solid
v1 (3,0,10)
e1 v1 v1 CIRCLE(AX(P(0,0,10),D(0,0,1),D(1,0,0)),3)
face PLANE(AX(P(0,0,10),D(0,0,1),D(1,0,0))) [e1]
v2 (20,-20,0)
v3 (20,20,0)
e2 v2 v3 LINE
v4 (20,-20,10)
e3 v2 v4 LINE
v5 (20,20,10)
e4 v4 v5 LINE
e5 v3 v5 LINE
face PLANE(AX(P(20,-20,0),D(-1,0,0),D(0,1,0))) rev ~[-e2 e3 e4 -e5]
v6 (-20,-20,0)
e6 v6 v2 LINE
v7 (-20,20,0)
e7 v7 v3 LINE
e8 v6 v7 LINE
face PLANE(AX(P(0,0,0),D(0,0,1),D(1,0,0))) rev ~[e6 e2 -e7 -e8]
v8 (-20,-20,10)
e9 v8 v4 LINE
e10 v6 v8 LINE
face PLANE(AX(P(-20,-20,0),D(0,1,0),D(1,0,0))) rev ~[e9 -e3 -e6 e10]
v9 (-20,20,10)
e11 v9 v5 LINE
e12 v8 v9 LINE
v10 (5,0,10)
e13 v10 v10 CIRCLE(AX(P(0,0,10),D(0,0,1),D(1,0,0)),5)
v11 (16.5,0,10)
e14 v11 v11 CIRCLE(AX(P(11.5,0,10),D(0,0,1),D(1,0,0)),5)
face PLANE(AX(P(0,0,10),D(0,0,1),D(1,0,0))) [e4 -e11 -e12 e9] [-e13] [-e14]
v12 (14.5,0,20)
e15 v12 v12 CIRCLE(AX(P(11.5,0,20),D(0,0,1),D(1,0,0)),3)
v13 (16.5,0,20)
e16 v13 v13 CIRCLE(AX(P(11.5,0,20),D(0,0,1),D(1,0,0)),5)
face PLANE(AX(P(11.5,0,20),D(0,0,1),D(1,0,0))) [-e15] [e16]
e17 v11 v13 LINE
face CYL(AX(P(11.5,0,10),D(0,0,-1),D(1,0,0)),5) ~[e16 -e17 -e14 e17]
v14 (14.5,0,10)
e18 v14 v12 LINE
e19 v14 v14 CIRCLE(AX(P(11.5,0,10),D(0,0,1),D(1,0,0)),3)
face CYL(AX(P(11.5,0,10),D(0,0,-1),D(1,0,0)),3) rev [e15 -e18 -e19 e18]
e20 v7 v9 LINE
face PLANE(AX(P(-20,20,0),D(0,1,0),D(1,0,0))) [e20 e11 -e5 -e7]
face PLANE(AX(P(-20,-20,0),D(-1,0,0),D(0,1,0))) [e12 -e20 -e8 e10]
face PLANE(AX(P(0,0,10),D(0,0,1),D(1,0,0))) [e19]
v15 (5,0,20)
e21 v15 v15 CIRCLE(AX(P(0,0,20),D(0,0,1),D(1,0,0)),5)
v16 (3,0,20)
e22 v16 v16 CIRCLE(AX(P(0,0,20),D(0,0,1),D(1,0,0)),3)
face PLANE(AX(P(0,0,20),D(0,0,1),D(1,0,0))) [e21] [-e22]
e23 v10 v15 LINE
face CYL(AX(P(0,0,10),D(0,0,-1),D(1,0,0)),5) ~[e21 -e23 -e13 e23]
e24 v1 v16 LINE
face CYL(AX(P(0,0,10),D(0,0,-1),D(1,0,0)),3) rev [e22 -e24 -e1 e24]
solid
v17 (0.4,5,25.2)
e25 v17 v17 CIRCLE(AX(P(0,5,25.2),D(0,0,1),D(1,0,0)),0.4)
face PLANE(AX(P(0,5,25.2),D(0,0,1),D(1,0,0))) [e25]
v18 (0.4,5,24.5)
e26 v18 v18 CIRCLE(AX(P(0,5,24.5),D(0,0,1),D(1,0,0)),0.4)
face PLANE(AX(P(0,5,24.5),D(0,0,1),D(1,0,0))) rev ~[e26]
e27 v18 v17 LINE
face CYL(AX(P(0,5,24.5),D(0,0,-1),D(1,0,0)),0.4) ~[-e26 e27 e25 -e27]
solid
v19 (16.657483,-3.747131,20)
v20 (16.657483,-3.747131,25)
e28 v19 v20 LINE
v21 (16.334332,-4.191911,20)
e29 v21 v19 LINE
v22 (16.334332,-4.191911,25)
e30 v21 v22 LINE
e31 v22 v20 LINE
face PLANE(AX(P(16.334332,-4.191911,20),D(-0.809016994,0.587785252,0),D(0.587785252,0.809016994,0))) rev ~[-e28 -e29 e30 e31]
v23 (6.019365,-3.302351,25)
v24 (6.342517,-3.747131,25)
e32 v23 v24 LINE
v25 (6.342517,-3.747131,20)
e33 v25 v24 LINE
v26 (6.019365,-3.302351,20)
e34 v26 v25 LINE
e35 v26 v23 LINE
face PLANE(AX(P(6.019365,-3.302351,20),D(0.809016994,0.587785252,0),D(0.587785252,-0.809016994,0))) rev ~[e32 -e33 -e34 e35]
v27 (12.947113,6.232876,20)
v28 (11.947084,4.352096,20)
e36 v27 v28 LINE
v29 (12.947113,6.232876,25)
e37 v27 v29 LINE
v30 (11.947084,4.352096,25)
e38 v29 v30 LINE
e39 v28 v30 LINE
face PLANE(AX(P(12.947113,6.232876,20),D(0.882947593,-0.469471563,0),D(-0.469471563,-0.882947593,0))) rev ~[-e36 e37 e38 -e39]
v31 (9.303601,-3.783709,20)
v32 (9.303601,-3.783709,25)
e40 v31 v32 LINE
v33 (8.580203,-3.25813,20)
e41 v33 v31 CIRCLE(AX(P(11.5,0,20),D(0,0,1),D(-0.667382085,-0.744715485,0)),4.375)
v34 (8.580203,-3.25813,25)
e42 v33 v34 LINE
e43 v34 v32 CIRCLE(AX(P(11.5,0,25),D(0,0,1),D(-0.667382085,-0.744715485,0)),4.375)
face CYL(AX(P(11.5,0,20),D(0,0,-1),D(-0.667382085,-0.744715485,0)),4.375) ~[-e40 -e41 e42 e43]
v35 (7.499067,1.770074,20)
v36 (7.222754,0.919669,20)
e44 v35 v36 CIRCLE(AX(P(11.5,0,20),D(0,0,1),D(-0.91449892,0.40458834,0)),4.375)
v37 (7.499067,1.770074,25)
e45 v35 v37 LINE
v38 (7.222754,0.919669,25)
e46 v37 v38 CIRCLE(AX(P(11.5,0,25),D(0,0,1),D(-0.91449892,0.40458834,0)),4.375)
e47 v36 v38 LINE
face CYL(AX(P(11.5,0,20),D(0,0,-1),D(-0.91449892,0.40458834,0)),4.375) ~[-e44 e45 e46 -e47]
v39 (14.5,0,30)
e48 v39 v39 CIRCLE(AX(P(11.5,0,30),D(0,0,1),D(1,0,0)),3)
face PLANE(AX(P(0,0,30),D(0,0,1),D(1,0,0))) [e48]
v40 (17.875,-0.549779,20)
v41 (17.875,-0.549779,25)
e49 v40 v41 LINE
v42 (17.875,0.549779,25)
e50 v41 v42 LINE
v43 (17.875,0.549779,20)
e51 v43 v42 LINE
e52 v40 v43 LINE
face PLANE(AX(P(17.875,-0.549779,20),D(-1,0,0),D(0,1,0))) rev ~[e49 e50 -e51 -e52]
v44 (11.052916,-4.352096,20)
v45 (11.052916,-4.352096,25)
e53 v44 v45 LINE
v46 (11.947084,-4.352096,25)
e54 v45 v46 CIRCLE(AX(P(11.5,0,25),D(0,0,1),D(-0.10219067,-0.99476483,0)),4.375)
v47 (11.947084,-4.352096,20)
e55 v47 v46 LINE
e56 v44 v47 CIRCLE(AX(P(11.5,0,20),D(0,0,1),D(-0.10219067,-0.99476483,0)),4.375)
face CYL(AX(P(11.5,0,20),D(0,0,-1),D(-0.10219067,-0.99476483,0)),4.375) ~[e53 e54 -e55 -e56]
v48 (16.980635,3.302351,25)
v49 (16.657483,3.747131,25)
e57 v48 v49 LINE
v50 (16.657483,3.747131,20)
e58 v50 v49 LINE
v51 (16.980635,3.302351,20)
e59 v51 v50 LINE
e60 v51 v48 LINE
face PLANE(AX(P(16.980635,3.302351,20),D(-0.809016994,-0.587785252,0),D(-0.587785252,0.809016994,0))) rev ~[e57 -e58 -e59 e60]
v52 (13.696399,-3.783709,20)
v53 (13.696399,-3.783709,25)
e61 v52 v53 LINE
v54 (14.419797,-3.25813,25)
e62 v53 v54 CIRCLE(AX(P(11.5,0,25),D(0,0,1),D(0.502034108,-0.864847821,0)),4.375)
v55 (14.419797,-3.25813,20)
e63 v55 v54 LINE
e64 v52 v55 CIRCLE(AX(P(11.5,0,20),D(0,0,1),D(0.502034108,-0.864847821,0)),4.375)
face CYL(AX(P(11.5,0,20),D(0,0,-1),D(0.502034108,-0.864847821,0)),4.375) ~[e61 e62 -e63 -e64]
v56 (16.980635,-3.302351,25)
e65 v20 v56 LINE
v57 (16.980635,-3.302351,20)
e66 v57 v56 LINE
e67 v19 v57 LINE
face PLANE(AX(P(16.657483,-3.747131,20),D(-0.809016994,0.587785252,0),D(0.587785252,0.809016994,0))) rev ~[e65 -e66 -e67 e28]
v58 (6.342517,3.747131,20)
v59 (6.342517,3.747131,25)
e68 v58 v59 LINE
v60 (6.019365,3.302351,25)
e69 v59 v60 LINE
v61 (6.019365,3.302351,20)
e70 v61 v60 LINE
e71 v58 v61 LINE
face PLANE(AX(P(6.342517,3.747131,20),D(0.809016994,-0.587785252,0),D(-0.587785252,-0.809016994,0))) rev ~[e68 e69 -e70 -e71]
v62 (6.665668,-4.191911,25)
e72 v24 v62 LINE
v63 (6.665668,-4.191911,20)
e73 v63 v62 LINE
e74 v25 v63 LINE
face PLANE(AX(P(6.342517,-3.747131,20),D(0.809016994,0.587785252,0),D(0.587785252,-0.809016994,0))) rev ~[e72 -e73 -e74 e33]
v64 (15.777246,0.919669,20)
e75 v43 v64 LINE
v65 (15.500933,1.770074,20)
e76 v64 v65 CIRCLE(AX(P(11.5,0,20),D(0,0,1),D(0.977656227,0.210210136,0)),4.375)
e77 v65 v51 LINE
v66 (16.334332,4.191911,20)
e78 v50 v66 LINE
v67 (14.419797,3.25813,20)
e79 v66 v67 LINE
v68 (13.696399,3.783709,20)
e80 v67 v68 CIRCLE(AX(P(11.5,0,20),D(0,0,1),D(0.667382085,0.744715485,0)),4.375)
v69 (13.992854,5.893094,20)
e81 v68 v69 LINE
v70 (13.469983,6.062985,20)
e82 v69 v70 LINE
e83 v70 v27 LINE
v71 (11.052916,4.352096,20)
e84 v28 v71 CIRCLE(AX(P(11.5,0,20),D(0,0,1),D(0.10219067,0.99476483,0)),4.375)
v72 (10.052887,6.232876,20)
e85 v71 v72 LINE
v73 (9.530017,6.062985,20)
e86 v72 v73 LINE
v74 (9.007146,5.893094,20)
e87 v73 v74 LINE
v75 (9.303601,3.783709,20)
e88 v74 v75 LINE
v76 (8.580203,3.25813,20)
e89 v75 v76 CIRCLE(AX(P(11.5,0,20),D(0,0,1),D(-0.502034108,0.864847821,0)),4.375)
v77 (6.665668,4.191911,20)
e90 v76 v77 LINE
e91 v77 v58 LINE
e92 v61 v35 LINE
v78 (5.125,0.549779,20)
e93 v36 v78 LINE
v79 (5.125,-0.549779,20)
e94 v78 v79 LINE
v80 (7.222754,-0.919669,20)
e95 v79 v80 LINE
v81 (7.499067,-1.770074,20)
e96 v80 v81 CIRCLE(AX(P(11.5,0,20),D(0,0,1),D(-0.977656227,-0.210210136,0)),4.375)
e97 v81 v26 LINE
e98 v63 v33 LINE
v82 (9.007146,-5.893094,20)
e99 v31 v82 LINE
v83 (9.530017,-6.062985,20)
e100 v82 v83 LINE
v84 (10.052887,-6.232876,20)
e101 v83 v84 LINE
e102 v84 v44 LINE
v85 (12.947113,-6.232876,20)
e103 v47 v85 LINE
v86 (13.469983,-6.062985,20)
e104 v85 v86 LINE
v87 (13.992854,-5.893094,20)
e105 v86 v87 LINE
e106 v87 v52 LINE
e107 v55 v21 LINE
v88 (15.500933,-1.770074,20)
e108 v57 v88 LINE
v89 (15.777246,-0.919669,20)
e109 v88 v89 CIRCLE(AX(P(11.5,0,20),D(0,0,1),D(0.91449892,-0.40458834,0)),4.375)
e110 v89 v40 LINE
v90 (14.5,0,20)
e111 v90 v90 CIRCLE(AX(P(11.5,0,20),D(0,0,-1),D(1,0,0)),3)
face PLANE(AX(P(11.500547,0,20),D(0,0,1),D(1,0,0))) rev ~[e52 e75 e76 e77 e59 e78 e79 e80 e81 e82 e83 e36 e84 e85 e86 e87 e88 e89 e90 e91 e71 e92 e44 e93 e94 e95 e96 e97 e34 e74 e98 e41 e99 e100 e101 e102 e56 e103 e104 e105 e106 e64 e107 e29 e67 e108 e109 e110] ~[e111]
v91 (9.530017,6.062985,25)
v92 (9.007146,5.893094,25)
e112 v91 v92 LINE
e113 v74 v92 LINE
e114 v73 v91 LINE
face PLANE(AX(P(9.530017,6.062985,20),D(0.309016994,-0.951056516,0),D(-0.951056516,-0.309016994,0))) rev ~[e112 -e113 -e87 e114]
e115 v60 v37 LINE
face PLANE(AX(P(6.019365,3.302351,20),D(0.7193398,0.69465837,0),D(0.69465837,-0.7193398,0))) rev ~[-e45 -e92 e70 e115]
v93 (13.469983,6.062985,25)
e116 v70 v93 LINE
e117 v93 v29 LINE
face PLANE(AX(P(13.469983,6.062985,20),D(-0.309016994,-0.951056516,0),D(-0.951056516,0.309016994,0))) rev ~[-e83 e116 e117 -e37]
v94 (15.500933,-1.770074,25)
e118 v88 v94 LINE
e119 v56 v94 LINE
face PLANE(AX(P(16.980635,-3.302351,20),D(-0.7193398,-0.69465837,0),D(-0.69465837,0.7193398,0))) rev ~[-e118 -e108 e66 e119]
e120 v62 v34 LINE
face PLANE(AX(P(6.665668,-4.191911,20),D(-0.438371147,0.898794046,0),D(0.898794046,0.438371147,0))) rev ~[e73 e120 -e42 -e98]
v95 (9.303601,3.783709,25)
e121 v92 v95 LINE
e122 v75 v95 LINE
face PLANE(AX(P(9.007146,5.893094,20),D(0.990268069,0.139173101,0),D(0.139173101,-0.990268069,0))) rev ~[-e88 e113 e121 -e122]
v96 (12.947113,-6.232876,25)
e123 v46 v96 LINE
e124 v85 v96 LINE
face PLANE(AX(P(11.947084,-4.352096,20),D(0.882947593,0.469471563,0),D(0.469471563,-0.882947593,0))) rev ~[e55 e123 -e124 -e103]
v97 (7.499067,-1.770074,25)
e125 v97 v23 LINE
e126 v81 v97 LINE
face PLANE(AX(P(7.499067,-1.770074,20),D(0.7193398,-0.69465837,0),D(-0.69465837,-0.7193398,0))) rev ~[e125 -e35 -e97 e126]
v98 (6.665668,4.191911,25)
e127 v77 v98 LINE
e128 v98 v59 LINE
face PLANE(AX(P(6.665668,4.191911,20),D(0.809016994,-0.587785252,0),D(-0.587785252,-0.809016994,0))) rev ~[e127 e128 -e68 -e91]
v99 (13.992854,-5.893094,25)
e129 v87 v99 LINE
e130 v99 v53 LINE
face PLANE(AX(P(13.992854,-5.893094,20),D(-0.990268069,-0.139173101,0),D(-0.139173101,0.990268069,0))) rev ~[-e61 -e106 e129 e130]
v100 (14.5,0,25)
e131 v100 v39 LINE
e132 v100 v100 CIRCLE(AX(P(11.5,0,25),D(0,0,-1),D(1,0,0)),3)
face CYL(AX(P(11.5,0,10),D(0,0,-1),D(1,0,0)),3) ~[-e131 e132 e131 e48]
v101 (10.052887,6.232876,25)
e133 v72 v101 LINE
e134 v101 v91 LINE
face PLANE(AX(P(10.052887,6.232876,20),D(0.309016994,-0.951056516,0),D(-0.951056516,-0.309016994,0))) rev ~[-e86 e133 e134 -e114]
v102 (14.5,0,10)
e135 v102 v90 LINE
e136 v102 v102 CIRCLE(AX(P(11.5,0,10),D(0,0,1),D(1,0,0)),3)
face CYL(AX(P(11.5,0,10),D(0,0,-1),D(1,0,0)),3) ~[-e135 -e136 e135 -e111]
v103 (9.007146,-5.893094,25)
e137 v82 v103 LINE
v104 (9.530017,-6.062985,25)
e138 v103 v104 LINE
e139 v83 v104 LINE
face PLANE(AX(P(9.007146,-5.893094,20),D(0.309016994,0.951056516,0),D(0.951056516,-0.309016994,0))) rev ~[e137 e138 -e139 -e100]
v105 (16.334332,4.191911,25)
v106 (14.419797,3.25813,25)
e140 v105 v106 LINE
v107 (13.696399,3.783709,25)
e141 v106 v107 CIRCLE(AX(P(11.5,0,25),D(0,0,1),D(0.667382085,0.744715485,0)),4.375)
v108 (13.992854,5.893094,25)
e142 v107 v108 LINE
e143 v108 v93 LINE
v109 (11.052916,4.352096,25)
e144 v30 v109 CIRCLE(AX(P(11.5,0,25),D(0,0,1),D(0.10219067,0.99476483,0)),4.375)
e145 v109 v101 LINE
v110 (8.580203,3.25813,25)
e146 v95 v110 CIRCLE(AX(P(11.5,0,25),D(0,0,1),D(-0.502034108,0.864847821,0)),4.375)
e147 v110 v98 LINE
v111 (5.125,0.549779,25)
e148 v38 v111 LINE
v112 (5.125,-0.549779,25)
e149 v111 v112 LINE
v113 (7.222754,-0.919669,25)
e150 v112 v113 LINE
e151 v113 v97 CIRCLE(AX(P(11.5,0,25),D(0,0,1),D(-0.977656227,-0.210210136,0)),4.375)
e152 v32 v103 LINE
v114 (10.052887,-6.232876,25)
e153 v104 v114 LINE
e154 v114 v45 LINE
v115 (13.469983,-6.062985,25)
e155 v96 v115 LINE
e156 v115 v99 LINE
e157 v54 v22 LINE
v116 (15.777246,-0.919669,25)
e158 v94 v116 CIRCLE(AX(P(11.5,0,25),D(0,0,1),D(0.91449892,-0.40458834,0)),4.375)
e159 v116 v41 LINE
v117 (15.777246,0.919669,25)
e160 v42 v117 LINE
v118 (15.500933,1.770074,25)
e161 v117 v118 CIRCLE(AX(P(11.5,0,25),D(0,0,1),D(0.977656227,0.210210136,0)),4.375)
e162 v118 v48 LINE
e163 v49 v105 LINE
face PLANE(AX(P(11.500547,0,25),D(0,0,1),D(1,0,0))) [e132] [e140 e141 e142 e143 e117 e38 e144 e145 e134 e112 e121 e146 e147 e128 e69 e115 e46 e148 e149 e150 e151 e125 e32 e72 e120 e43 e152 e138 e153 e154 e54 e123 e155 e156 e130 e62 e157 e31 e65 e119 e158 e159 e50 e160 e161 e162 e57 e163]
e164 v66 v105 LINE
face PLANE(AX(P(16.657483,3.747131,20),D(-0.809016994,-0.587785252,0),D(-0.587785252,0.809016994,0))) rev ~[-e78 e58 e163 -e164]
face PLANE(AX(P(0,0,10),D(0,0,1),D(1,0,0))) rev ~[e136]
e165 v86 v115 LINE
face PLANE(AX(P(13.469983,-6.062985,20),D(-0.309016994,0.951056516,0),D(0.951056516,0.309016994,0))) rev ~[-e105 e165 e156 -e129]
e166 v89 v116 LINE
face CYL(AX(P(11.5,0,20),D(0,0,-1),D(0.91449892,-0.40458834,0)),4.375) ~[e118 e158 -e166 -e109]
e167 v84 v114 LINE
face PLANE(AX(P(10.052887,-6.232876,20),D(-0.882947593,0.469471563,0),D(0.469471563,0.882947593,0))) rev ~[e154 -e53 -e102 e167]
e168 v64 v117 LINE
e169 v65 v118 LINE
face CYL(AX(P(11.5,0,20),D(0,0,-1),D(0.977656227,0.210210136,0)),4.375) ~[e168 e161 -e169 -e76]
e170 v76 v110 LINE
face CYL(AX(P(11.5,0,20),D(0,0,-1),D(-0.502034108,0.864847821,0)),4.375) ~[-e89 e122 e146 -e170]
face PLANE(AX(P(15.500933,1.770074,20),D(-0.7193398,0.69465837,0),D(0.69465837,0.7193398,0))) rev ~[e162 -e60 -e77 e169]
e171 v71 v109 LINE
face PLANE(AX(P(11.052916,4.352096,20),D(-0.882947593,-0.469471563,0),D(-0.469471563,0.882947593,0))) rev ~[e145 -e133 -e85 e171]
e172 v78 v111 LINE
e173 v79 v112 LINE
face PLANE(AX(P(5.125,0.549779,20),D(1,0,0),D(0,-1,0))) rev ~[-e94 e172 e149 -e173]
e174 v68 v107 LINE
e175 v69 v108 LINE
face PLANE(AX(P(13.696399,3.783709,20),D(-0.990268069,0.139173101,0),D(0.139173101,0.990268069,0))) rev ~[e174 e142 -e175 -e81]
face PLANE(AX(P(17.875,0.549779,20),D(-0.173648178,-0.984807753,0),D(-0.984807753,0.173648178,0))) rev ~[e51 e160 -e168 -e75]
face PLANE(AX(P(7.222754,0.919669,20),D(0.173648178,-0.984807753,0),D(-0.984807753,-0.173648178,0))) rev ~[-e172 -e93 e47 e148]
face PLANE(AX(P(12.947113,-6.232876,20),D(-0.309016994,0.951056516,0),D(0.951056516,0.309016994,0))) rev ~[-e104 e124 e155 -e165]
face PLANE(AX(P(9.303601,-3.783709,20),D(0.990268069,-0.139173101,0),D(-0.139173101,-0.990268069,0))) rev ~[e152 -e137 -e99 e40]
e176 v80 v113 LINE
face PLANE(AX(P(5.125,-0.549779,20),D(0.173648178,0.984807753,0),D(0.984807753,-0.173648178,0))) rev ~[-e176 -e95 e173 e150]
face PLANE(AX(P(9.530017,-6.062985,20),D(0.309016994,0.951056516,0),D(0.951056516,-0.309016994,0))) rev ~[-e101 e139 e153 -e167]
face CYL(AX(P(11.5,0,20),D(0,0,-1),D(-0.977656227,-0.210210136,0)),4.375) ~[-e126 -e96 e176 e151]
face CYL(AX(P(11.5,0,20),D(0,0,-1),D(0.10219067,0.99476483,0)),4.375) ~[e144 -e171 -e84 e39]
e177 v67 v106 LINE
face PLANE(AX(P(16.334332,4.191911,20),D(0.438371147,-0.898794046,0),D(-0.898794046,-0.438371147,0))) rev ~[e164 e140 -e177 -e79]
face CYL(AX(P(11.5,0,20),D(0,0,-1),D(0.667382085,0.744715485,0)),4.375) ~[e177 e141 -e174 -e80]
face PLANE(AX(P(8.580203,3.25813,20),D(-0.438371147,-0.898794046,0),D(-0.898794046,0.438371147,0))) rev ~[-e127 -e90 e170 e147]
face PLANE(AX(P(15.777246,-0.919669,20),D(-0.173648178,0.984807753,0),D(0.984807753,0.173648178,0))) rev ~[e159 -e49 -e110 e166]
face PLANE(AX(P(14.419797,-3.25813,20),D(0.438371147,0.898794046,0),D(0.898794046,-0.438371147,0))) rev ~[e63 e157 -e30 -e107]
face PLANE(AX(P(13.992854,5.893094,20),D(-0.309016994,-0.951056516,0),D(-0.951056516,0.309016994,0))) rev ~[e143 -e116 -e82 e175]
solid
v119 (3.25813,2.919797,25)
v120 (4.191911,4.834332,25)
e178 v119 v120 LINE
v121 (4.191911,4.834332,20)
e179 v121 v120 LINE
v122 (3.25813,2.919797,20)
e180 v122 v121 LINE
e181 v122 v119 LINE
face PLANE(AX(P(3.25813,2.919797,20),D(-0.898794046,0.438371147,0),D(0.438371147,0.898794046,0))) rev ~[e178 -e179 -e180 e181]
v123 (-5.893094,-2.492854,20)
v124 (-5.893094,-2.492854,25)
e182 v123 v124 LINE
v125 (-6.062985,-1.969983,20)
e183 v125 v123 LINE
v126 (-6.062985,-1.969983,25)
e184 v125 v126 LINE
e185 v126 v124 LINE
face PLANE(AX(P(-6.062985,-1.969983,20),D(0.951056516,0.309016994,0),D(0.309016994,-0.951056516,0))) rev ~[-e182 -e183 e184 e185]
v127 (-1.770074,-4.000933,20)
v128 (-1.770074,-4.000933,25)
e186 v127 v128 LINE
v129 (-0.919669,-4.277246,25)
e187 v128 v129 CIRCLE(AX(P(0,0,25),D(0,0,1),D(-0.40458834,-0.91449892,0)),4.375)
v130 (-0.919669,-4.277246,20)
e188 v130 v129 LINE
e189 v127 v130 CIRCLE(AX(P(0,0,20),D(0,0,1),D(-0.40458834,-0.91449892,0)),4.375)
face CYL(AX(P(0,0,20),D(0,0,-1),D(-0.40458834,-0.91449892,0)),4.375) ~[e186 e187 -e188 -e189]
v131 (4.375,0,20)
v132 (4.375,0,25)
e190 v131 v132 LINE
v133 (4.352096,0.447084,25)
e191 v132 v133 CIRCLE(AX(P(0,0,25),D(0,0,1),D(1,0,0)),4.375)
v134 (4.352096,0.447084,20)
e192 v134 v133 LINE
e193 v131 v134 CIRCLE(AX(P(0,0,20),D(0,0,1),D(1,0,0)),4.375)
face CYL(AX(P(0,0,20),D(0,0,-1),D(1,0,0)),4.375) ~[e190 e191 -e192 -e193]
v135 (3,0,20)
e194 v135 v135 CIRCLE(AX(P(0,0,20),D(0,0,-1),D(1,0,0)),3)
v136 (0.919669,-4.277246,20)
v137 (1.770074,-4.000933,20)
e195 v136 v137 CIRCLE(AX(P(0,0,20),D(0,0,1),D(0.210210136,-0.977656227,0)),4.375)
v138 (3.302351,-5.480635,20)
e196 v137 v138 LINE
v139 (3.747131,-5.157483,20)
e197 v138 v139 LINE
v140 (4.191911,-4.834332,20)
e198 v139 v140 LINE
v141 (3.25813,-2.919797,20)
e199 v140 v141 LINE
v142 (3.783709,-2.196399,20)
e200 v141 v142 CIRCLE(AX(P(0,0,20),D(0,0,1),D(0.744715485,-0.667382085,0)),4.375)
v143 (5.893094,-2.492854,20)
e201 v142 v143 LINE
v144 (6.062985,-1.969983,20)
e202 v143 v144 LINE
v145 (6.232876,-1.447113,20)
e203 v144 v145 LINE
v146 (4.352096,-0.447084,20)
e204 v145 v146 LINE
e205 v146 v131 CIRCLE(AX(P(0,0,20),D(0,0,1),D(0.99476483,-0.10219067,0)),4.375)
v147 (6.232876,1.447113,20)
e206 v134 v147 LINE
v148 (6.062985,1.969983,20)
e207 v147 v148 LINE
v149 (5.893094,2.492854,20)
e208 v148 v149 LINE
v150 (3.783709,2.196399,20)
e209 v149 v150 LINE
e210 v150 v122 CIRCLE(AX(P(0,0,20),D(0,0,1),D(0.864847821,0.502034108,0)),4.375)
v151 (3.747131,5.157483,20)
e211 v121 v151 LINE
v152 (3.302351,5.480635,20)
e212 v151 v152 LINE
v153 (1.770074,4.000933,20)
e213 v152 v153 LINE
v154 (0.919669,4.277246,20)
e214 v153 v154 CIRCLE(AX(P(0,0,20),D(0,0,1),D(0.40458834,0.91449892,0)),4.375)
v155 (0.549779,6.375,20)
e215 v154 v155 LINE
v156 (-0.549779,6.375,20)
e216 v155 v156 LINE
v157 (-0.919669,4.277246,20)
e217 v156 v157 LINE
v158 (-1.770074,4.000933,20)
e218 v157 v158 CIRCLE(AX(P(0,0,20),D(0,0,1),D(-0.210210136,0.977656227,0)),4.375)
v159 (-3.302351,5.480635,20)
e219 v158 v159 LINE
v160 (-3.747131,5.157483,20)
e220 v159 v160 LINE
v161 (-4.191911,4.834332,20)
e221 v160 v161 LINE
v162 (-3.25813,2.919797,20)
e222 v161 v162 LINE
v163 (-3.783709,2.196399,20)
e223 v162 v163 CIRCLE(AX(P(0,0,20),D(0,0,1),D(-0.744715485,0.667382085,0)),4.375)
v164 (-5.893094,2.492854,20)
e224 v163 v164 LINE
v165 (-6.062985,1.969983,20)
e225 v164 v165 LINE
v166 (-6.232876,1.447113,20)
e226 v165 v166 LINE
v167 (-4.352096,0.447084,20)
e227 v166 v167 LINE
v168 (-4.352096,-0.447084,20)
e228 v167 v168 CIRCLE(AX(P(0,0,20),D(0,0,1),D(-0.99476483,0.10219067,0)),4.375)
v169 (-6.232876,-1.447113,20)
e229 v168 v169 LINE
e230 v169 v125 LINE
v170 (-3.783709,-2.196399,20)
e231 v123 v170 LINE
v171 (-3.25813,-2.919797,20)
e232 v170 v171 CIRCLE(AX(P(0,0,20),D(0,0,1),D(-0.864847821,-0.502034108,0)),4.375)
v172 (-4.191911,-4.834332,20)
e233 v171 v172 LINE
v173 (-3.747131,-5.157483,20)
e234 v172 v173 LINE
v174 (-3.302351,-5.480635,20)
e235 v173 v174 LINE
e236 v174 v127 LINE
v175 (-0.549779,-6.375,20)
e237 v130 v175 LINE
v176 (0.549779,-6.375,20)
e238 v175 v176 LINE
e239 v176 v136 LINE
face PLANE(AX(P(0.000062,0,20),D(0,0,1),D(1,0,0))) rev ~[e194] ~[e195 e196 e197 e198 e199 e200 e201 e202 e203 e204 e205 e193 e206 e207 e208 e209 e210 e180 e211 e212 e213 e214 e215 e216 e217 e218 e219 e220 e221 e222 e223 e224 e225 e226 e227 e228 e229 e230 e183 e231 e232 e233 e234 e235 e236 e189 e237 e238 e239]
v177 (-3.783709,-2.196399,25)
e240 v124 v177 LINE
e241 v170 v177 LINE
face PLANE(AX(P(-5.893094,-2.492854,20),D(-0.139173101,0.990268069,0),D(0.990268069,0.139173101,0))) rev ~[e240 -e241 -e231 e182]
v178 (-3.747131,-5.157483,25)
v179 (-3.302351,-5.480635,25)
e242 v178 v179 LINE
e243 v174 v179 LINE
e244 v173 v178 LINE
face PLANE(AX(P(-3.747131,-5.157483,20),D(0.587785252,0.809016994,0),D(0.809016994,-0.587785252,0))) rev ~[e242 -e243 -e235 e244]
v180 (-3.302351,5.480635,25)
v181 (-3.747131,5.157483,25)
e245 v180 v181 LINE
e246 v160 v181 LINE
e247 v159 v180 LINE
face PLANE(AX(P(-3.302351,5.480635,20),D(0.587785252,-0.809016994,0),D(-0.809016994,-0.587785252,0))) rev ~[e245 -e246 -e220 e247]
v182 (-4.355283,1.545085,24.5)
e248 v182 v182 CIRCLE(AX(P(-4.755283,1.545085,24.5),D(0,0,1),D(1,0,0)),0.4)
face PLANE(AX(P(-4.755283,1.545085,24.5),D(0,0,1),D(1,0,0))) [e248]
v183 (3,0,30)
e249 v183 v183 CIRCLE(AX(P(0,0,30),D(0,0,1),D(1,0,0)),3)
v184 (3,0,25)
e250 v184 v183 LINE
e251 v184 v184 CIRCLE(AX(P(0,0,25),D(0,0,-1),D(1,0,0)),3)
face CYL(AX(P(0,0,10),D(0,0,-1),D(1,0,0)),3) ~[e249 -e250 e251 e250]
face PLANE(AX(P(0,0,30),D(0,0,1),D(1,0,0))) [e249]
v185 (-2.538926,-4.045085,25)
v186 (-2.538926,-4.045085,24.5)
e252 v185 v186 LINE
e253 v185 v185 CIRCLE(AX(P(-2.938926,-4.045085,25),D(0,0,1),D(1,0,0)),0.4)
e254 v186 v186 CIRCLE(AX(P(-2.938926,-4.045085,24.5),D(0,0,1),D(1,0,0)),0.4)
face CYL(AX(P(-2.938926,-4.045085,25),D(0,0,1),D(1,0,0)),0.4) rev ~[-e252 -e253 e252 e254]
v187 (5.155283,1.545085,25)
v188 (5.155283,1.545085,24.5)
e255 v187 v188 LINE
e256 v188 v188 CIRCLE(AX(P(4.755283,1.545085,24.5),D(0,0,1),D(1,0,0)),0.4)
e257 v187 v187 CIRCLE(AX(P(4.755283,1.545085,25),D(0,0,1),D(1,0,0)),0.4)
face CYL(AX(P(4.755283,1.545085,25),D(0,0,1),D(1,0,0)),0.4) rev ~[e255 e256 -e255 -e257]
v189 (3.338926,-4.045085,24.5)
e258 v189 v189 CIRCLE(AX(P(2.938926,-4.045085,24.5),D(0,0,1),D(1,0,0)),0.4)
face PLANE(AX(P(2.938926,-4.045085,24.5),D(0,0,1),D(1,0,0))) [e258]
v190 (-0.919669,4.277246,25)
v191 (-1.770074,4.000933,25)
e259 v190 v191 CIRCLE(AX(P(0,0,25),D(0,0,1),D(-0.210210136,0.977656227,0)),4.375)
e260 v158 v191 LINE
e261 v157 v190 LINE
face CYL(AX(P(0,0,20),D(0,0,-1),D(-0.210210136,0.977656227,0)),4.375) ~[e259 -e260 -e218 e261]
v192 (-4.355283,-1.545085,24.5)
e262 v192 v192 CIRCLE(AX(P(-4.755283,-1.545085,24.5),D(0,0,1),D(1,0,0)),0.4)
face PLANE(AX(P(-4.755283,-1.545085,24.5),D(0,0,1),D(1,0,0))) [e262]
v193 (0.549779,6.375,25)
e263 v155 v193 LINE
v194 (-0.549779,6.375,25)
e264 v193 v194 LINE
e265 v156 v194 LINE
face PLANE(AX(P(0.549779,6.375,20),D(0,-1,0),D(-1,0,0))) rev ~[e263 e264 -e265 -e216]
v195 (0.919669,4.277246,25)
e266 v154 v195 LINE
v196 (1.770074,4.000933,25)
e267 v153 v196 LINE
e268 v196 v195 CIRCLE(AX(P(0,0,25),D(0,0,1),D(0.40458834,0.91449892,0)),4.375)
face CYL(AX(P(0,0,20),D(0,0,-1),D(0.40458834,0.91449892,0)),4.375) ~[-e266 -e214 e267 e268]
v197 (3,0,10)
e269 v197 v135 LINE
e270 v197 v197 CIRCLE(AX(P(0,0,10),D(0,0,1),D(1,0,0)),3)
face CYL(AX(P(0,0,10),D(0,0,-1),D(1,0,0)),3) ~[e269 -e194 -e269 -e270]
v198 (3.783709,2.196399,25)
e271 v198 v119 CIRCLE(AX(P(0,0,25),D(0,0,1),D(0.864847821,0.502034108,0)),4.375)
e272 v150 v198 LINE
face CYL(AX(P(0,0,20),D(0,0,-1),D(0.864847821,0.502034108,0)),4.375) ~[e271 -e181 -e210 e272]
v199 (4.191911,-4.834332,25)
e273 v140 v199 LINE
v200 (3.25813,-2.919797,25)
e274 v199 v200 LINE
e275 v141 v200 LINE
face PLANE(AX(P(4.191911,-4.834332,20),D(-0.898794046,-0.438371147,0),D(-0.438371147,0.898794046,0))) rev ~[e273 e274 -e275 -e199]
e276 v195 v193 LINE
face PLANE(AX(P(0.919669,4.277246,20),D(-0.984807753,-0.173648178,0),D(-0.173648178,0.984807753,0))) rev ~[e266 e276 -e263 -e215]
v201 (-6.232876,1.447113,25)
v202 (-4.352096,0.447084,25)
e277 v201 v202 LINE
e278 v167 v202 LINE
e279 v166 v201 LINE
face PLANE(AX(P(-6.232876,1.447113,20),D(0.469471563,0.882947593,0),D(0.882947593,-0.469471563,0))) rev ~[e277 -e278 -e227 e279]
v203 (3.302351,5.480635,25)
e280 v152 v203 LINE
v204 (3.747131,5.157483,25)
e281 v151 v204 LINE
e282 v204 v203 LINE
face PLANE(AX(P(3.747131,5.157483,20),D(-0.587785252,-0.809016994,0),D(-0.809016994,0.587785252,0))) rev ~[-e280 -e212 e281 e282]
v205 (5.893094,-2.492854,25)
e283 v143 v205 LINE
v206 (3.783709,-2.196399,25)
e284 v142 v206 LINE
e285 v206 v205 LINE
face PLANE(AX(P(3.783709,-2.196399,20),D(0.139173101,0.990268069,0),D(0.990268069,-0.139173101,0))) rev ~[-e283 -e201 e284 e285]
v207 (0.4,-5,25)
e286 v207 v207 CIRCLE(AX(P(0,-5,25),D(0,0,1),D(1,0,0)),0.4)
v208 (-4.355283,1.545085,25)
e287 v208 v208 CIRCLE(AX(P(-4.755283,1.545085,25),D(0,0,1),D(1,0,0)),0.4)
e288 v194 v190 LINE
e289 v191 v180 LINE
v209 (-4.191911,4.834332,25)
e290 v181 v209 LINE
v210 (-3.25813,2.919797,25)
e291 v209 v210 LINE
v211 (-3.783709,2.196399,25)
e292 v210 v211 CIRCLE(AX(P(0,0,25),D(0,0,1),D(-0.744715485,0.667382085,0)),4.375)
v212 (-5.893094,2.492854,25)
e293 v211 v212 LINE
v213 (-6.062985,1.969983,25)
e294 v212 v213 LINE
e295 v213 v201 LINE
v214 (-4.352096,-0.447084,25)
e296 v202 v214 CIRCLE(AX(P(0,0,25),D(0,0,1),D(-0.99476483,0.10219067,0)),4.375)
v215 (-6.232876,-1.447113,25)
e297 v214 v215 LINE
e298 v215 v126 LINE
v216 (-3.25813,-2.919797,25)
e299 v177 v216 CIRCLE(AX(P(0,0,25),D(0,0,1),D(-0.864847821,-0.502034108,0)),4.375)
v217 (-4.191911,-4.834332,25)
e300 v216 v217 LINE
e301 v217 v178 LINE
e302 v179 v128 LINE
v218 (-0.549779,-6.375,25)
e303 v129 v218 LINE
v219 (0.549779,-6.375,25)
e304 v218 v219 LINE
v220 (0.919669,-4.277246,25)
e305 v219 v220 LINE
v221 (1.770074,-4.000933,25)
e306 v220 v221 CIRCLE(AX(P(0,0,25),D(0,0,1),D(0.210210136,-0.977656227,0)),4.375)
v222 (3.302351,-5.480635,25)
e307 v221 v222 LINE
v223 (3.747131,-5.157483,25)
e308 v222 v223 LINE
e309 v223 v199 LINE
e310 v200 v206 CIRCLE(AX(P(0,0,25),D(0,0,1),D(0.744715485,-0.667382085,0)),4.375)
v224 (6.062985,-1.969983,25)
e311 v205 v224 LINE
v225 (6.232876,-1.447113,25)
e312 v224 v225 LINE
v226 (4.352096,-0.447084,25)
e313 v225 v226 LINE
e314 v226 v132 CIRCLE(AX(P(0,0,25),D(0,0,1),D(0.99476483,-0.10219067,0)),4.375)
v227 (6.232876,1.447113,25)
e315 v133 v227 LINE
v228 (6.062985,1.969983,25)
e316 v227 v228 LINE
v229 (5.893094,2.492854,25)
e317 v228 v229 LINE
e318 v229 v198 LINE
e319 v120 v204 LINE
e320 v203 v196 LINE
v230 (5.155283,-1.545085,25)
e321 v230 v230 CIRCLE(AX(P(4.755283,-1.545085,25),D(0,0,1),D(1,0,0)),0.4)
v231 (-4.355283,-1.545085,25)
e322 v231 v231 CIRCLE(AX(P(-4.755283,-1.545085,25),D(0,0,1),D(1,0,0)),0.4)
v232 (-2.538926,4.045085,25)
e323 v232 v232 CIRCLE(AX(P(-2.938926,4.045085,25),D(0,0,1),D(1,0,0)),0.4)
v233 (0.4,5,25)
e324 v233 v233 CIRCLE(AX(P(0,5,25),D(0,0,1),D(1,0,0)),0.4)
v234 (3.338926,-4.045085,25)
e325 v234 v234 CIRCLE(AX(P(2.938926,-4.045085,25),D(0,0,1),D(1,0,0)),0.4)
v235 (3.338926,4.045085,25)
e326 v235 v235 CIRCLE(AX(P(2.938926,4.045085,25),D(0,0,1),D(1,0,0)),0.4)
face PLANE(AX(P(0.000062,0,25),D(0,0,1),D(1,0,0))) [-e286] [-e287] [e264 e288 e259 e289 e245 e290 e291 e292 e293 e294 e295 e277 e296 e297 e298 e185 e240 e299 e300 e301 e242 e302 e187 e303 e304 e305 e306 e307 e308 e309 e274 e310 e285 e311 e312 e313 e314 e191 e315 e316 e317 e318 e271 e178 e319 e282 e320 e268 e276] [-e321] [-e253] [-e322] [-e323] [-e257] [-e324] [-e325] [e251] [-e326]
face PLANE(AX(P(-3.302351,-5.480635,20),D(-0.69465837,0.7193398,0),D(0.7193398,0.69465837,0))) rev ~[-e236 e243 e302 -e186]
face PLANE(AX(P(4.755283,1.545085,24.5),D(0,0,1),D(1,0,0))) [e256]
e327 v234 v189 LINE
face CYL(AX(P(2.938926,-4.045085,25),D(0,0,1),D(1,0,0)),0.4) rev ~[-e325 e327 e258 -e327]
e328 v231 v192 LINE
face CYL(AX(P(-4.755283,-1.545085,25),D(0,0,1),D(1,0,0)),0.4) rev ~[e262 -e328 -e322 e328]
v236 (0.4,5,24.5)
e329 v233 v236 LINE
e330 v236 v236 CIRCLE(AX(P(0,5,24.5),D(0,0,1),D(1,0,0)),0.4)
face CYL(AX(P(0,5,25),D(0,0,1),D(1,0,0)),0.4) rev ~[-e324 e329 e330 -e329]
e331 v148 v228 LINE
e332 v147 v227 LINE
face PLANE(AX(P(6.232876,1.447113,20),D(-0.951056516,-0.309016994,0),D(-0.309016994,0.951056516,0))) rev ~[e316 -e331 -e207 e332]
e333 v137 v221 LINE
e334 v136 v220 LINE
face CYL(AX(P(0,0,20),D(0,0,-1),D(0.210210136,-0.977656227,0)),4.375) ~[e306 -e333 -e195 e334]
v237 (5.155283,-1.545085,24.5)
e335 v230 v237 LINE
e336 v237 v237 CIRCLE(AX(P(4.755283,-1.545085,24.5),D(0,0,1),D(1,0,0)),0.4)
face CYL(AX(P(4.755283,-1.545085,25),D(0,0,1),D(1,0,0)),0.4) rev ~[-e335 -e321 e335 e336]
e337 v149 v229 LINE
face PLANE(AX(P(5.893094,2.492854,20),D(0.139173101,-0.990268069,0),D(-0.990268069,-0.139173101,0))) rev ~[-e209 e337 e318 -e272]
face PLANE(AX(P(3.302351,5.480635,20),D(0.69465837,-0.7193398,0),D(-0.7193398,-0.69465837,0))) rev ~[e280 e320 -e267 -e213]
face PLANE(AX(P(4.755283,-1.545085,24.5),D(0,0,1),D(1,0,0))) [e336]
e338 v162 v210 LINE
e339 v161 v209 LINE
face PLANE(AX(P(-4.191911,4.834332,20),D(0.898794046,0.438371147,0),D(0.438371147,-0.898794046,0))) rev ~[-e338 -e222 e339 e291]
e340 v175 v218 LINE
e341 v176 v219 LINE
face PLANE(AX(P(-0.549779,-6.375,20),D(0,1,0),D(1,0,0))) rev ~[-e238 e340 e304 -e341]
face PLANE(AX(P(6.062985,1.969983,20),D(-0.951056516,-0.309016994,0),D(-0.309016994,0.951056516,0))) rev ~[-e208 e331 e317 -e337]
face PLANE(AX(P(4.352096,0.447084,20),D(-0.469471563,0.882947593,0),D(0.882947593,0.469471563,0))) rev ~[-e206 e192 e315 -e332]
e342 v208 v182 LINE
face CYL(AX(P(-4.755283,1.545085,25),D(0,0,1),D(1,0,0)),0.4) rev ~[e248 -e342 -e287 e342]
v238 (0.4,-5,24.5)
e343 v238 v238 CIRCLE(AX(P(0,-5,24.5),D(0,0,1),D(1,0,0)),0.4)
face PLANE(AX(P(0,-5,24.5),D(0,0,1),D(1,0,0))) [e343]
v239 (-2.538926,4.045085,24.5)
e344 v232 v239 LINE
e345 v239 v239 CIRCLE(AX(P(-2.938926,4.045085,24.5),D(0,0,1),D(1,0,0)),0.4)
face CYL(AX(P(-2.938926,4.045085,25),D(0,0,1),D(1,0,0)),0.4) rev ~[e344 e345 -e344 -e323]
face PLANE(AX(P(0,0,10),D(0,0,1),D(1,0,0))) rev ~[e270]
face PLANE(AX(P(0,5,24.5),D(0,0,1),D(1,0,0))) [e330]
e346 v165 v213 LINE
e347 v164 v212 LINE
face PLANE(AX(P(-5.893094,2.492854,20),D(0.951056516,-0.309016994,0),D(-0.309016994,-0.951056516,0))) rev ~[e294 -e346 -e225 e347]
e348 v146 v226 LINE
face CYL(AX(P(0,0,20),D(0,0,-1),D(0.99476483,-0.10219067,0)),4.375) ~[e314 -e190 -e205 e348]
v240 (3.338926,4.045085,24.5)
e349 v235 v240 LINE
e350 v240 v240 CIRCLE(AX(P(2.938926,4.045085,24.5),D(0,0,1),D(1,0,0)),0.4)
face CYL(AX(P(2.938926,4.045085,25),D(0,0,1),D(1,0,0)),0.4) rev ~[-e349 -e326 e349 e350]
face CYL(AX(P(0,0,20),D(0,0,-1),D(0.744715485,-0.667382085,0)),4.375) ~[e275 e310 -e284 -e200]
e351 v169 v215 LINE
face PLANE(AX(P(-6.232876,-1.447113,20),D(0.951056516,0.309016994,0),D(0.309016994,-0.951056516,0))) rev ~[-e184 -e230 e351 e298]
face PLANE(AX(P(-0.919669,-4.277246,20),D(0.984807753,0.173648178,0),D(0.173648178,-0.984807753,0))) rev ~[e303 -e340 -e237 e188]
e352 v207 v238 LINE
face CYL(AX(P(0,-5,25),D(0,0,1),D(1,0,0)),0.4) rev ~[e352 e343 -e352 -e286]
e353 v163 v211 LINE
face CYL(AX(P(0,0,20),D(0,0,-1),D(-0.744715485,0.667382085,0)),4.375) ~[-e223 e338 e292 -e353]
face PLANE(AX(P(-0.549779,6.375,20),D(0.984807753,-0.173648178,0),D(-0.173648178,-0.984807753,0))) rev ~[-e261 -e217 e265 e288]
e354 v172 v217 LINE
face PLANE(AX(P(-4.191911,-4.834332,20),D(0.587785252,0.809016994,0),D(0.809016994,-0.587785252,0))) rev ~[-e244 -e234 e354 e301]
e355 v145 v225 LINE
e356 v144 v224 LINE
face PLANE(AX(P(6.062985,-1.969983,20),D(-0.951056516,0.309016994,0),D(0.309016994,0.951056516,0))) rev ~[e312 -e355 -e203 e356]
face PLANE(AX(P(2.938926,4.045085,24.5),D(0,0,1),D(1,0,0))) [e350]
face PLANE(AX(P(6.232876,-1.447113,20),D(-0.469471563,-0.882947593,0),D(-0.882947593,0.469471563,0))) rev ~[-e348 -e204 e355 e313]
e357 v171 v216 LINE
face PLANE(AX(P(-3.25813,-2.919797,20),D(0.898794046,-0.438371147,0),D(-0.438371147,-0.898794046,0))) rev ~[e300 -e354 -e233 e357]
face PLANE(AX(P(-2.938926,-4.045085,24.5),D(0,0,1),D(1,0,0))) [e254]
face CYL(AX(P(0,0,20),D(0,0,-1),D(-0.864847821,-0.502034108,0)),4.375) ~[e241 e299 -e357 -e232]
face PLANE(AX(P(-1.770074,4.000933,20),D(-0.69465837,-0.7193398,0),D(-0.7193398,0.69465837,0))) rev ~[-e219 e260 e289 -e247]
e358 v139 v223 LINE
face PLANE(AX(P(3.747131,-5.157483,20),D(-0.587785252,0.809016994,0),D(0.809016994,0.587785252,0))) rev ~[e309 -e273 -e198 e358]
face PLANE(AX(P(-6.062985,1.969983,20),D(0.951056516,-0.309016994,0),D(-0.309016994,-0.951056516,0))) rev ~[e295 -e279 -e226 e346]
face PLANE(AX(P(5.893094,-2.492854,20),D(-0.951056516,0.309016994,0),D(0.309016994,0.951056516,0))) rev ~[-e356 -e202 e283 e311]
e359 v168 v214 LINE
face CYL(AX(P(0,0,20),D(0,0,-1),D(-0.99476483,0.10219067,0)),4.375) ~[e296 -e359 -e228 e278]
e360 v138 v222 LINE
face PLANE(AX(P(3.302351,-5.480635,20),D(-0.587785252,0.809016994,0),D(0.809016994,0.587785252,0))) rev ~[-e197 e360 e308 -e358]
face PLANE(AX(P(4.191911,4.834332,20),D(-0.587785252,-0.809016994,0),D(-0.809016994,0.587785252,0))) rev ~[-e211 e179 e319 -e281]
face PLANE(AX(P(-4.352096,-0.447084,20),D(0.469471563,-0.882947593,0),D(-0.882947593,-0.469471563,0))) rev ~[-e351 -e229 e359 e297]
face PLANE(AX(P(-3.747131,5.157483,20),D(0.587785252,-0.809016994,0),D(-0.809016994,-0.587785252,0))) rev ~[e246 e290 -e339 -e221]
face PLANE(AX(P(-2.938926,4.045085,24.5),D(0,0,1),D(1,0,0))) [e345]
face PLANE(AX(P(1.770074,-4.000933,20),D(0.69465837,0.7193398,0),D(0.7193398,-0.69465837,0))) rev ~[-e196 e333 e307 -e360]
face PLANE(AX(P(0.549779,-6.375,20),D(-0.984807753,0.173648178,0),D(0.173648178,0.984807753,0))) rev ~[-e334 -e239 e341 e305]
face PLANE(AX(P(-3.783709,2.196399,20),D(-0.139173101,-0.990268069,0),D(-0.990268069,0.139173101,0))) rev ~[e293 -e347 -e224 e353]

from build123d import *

# Parameters (mm, degrees)
F0_W      = 40
F0_H      = 40
F1_DEPTH  = 10
F2_R      = 5
F2_R_2    = 3
F3_DEPTH  = 10
F4_DEPTH  = 20
F5_DEPTH  = 20
F7_DEPTH  = 5
F9_DEPTH  = 5
F10_R     = 0.4
F11_DEPTH = 0.5
F12_DEPTH = 0.7


with BuildPart() as f1:
    # F0 (on Top) → F1 (new body)
    with BuildSketch(Plane.XY):
        Rectangle(F0_W, F0_H)
    extrude(amount=F1_DEPTH)

    # F2 (on face) → F3 (join)
    with BuildSketch(Plane.XY.offset(10)):
        Circle(F2_R)
        Circle(F2_R_2, mode=Mode.SUBTRACT)
        with Locations((11.5, 0)):
            Circle(F2_R)
        with Locations((11.5, 0)):
            Circle(F2_R_2, mode=Mode.SUBTRACT)
    extrude(amount=F3_DEPTH)


with BuildPart() as f4:
    # F4 (new): a face of the model
    f4_faces = [f1.part.faces().sort_by_distance(p)[0] for p in [
        (0, 0, 10),
    ]]
    extrude(f4_faces, amount=F4_DEPTH)

    # F6 (on face) → F7 (join)
    with BuildSketch(Plane.XY.offset(20)):
        with BuildLine():
            ThreePointArc((4.3520961314, -0.4470841785), (4.3692702809, -0.2238352351), (4.375, 0))
            ThreePointArc((4.375, 0), (4.3692702809, 0.2238352351), (4.3520961314, 0.4470841785))
            ThreePointArc((4.3520961314, 0.4470841785), (4.1608722588, 1.3519493504), (3.7837092182, 2.1963992243))
            ThreePointArc((3.7837092182, 2.1963992243), (3.5394493504, 2.5715604788), (3.2581302448, 2.919796621))
            ThreePointArc((3.2581302448, 2.919796621), (2.5715604788, 3.5394493504), (1.7700739871, 4.0009327763))
            ThreePointArc((1.7700739871, 4.0009327763), (1.3519493504, 4.1608722588), (0.9196693444, 4.2772459944))
            ThreePointArc((0.9196693444, 4.2772459944), (0, 4.375), (-0.9196693444, 4.2772459944))
            ThreePointArc((-0.9196693444, 4.2772459944), (-1.3519493504, 4.1608722588), (-1.7700739871, 4.0009327763))
            ThreePointArc((-1.7700739871, 4.0009327763), (-2.5715604788, 3.5394493504), (-3.2581302448, 2.919796621))
            ThreePointArc((-3.2581302448, 2.919796621), (-3.5394493504, 2.5715604788), (-3.7837092182, 2.1963992243))
            ThreePointArc((-3.7837092182, 2.1963992243), (-4.1608722588, 1.3519493504), (-4.3520961314, 0.4470841785))
            ThreePointArc((-4.3520961314, 0.4470841785), (-4.375, 0), (-4.3520961314, -0.4470841785))
            ThreePointArc((-4.3520961314, -0.4470841785), (-4.1608722588, -1.3519493504), (-3.7837092182, -2.1963992243))
            ThreePointArc((-3.7837092182, -2.1963992243), (-3.5394493504, -2.5715604788), (-3.2581302448, -2.919796621))
            ThreePointArc((-3.2581302448, -2.919796621), (-2.5715604788, -3.5394493504), (-1.7700739871, -4.0009327763))
            ThreePointArc((-1.7700739871, -4.0009327763), (-1.3519493504, -4.1608722588), (-0.9196693444, -4.2772459944))
            ThreePointArc((-0.9196693444, -4.2772459944), (0, -4.375), (0.9196693444, -4.2772459944))
            ThreePointArc((0.9196693444, -4.2772459944), (1.3519493504, -4.1608722588), (1.7700739871, -4.0009327763))
            ThreePointArc((1.7700739871, -4.0009327763), (2.5715604788, -3.5394493504), (3.2581302448, -2.919796621))
            ThreePointArc((3.2581302448, -2.919796621), (3.5394493504, -2.5715604788), (3.7837092182, -2.1963992243))
            ThreePointArc((3.7837092182, -2.1963992243), (4.1608722588, -1.3519493504), (4.3520961314, -0.4470841785))
        make_face()
        with BuildLine():
            ThreePointArc((3.7837092182, 2.1963992243), (4.1608722588, 1.3519493504), (4.3520961314, 0.4470841785))
            Line((4.3520961314, 0.4470841785), (6.2328762573, 1.4471127103))
            Line((6.2328762573, 1.4471127103), (6.0629852914, 1.9699833391))
            Line((6.0629852914, 1.9699833391), (5.8930943255, 2.492853968))
            Line((5.8930943255, 2.492853968), (3.7837092182, 2.1963992243))
        make_face()
        with BuildLine():
            Line((6.2328762573, -1.4471127103), (4.3520961314, -0.4470841785))
            ThreePointArc((4.3520961314, -0.4470841785), (4.1608722588, -1.3519493504), (3.7837092182, -2.1963992243))
            Line((3.7837092182, -2.1963992243), (5.8930943255, -2.492853968))
            Line((5.8930943255, -2.492853968), (6.0629852914, -1.9699833391))
            Line((6.0629852914, -1.9699833391), (6.2328762573, -1.4471127103))
        make_face()
        with BuildLine():
            ThreePointArc((1.7700739871, 4.0009327763), (2.5715604788, 3.5394493504), (3.2581302448, 2.919796621))
            Line((3.2581302448, 2.919796621), (4.1919113064, 4.8343315188))
            Line((4.1919113064, 4.8343315188), (3.7471309834, 5.1574833391))
            Line((3.7471309834, 5.1574833391), (3.3023506603, 5.4806351595))
            Line((3.3023506603, 5.4806351595), (1.7700739871, 4.0009327763))
        make_face()
        with BuildLine():
            Line((4.1919113064, -4.8343315188), (3.2581302448, -2.919796621))
            ThreePointArc((3.2581302448, -2.919796621), (2.5715604788, -3.5394493504), (1.7700739871, -4.0009327763))
            Line((1.7700739871, -4.0009327763), (3.3023506603, -5.4806351595))
            Line((3.3023506603, -5.4806351595), (3.7471309834, -5.1574833391))
            Line((3.7471309834, -5.1574833391), (4.1919113064, -4.8343315188))
        make_face()
        with BuildLine():
            ThreePointArc((-0.9196693444, 4.2772459944), (0, 4.375), (0.9196693444, 4.2772459944))
            Line((0.9196693444, 4.2772459944), (0.5497787144, 6.375))
            Line((0.5497787144, 6.375), (0, 6.375))
            Line((0, 6.375), (-0.5497787144, 6.375))
            Line((-0.5497787144, 6.375), (-0.9196693444, 4.2772459944))
        make_face()
        with BuildLine():
            Line((0.5497787144, -6.375), (0.9196693444, -4.2772459944))
            ThreePointArc((0.9196693444, -4.2772459944), (0, -4.375), (-0.9196693444, -4.2772459944))
            Line((-0.9196693444, -4.2772459944), (-0.5497787144, -6.375))
            Line((-0.5497787144, -6.375), (0, -6.375))
            Line((0, -6.375), (0.5497787144, -6.375))
        make_face()
        with BuildLine():
            ThreePointArc((-3.2581302448, 2.919796621), (-2.5715604788, 3.5394493504), (-1.7700739871, 4.0009327763))
            Line((-1.7700739871, 4.0009327763), (-3.3023506603, 5.4806351595))
            Line((-3.3023506603, 5.4806351595), (-3.7471309834, 5.1574833391))
            Line((-3.7471309834, 5.1574833391), (-4.1919113064, 4.8343315188))
            Line((-4.1919113064, 4.8343315188), (-3.2581302448, 2.919796621))
        make_face()
        with BuildLine():
            Line((-3.3023506603, -5.4806351595), (-1.7700739871, -4.0009327763))
            ThreePointArc((-1.7700739871, -4.0009327763), (-2.5715604788, -3.5394493504), (-3.2581302448, -2.919796621))
            Line((-3.2581302448, -2.919796621), (-4.1919113064, -4.8343315188))
            Line((-4.1919113064, -4.8343315188), (-3.7471309834, -5.1574833391))
            Line((-3.7471309834, -5.1574833391), (-3.3023506603, -5.4806351595))
        make_face()
        with BuildLine():
            ThreePointArc((-4.3520961314, 0.4470841785), (-4.1608722588, 1.3519493504), (-3.7837092182, 2.1963992243))
            Line((-3.7837092182, 2.1963992243), (-5.8930943255, 2.492853968))
            Line((-5.8930943255, 2.492853968), (-6.0629852914, 1.9699833391))
            Line((-6.0629852914, 1.9699833391), (-6.2328762573, 1.4471127103))
            Line((-6.2328762573, 1.4471127103), (-4.3520961314, 0.4470841785))
        make_face()
        with BuildLine():
            Line((-5.8930943255, -2.492853968), (-3.7837092182, -2.1963992243))
            ThreePointArc((-3.7837092182, -2.1963992243), (-4.1608722588, -1.3519493504), (-4.3520961314, -0.4470841785))
            Line((-4.3520961314, -0.4470841785), (-6.2328762573, -1.4471127103))
            Line((-6.2328762573, -1.4471127103), (-6.0629852914, -1.9699833391))
            Line((-6.0629852914, -1.9699833391), (-5.8930943255, -2.492853968))
        make_face()
    extrude(amount=F7_DEPTH)

    # F10 (on face) → F11 (cut)
    with BuildSketch(Plane.XY.offset(25)):
        with Locations((0, 5)):
            Circle(F10_R)
        with Locations((-2.9389262615, 4.0450849719)):
            Circle(F10_R)
        with Locations((-4.7552825815, 1.5450849719)):
            Circle(F10_R)
        with Locations((-4.7552825815, -1.5450849719)):
            Circle(F10_R)
        with Locations((-2.9389262615, -4.0450849719)):
            Circle(F10_R)
        with Locations((0, -5)):
            Circle(F10_R)
        with Locations((2.9389262615, -4.0450849719)):
            Circle(F10_R)
        with Locations((4.7552825815, -1.5450849719)):
            Circle(F10_R)
        with Locations((4.7552825815, 1.5450849719)):
            Circle(F10_R)
        with Locations((2.9389262615, 4.0450849719)):
            Circle(F10_R)
    extrude(amount=-F11_DEPTH, mode=Mode.SUBTRACT)


with BuildPart() as f5:
    # F5 (new): a face of the model
    f5_faces = [f1.part.faces().sort_by_distance(p)[0] for p in [
        (11.5, 0, 10),
    ]]
    extrude(f5_faces, amount=F5_DEPTH)

    # F8 (on face) → F9 (join)
    with BuildSketch(Plane.XY.offset(20)):
        with BuildLine():
            ThreePointArc((15.7772459944, -0.9196693444), (15.8504928586, -0.4624250071), (15.875, 0))
            ThreePointArc((15.875, 0), (15.8504928586, 0.4624250071), (15.7772459944, 0.9196693444))
            ThreePointArc((15.7772459944, 0.9196693444), (15.6608722588, 1.3519493504), (15.5009327763, 1.7700739871))
            ThreePointArc((15.5009327763, 1.7700739871), (15.0394493504, 2.5715604788), (14.419796621, 3.2581302448))
            ThreePointArc((14.419796621, 3.2581302448), (14.0715604788, 3.5394493504), (13.6963992243, 3.7837092182))
            ThreePointArc((13.6963992243, 3.7837092182), (12.8519493504, 4.1608722588), (11.9470841785, 4.3520961314))
            ThreePointArc((11.9470841785, 4.3520961314), (11.5, 4.375), (11.0529158215, 4.3520961314))
            ThreePointArc((11.0529158215, 4.3520961314), (10.1480506496, 4.1608722588), (9.3036007757, 3.7837092182))
            ThreePointArc((9.3036007757, 3.7837092182), (8.9284395212, 3.5394493504), (8.580203379, 3.2581302448))
            ThreePointArc((8.580203379, 3.2581302448), (7.9605506496, 2.5715604788), (7.4990672237, 1.7700739871))
            ThreePointArc((7.4990672237, 1.7700739871), (7.3391277412, 1.3519493504), (7.2227540056, 0.9196693444))
            ThreePointArc((7.2227540056, 0.9196693444), (7.125, 0), (7.2227540056, -0.9196693444))
            ThreePointArc((7.2227540056, -0.9196693444), (7.3391277412, -1.3519493504), (7.4990672237, -1.7700739871))
            ThreePointArc((7.4990672237, -1.7700739871), (7.9605506496, -2.5715604788), (8.580203379, -3.2581302448))
            ThreePointArc((8.580203379, -3.2581302448), (8.9284395212, -3.5394493504), (9.3036007757, -3.7837092182))
            ThreePointArc((9.3036007757, -3.7837092182), (10.1480506496, -4.1608722588), (11.0529158215, -4.3520961314))
            ThreePointArc((11.0529158215, -4.3520961314), (11.5, -4.375), (11.9470841785, -4.3520961314))
            ThreePointArc((11.9470841785, -4.3520961314), (12.8519493504, -4.1608722588), (13.6963992243, -3.7837092182))
            ThreePointArc((13.6963992243, -3.7837092182), (14.0715604788, -3.5394493504), (14.419796621, -3.2581302448))
            ThreePointArc((14.419796621, -3.2581302448), (15.0394493504, -2.5715604788), (15.5009327763, -1.7700739871))
            ThreePointArc((15.5009327763, -1.7700739871), (15.6608722588, -1.3519493504), (15.7772459944, -0.9196693444))
        make_face()
        with BuildLine():
            ThreePointArc((15.7772459944, 0.9196693444), (15.8504928586, 0.4624250071), (15.875, 0))
            ThreePointArc((15.875, 0), (15.8504928586, -0.4624250071), (15.7772459944, -0.9196693444))
            Line((15.7772459944, -0.9196693444), (17.875, -0.5497787144))
            Line((17.875, -0.5497787144), (17.875, 0))
            Line((17.875, 0), (17.875, 0.5497787144))
            Line((17.875, 0.5497787144), (15.7772459944, 0.9196693444))
        make_face()
        with BuildLine():
            ThreePointArc((14.419796621, 3.2581302448), (15.0394493504, 2.5715604788), (15.5009327763, 1.7700739871))
            Line((15.5009327763, 1.7700739871), (16.9806351595, 3.3023506603))
            Line((16.9806351595, 3.3023506603), (16.6574833391, 3.7471309834))
            Line((16.6574833391, 3.7471309834), (16.3343315188, 4.1919113064))
            Line((16.3343315188, 4.1919113064), (14.419796621, 3.2581302448))
        make_face()
        with BuildLine():
            Line((16.9806351595, -3.3023506603), (15.5009327763, -1.7700739871))
            ThreePointArc((15.5009327763, -1.7700739871), (15.0394493504, -2.5715604788), (14.419796621, -3.2581302448))
            Line((14.419796621, -3.2581302448), (16.3343315188, -4.1919113064))
            Line((16.3343315188, -4.1919113064), (16.6574833391, -3.7471309834))
            Line((16.6574833391, -3.7471309834), (16.9806351595, -3.3023506603))
        make_face()
        with BuildLine():
            ThreePointArc((11.9470841785, 4.3520961314), (12.8519493504, 4.1608722588), (13.6963992243, 3.7837092182))
            Line((13.6963992243, 3.7837092182), (13.992853968, 5.8930943255))
            Line((13.992853968, 5.8930943255), (13.4699833391, 6.0629852914))
            Line((13.4699833391, 6.0629852914), (12.9471127103, 6.2328762573))
            Line((12.9471127103, 6.2328762573), (11.9470841785, 4.3520961314))
        make_face()
        with BuildLine():
            Line((13.992853968, -5.8930943255), (13.6963992243, -3.7837092182))
            ThreePointArc((13.6963992243, -3.7837092182), (12.8519493504, -4.1608722588), (11.9470841785, -4.3520961314))
            Line((11.9470841785, -4.3520961314), (12.9471127103, -6.2328762573))
            Line((12.9471127103, -6.2328762573), (13.4699833391, -6.0629852914))
            Line((13.4699833391, -6.0629852914), (13.992853968, -5.8930943255))
        make_face()
        with BuildLine():
            ThreePointArc((9.3036007757, 3.7837092182), (10.1480506496, 4.1608722588), (11.0529158215, 4.3520961314))
            Line((11.0529158215, 4.3520961314), (10.0528872897, 6.2328762573))
            Line((10.0528872897, 6.2328762573), (9.5300166609, 6.0629852914))
            Line((9.5300166609, 6.0629852914), (9.007146032, 5.8930943255))
            Line((9.007146032, 5.8930943255), (9.3036007757, 3.7837092182))
        make_face()
        with BuildLine():
            Line((10.0528872897, -6.2328762573), (11.0529158215, -4.3520961314))
            ThreePointArc((11.0529158215, -4.3520961314), (10.1480506496, -4.1608722588), (9.3036007757, -3.7837092182))
            Line((9.3036007757, -3.7837092182), (9.007146032, -5.8930943255))
            Line((9.007146032, -5.8930943255), (9.5300166609, -6.0629852914))
            Line((9.5300166609, -6.0629852914), (10.0528872897, -6.2328762573))
        make_face()
        with BuildLine():
            ThreePointArc((7.4990672237, 1.7700739871), (7.9605506496, 2.5715604788), (8.580203379, 3.2581302448))
            Line((8.580203379, 3.2581302448), (6.6656684812, 4.1919113064))
            Line((6.6656684812, 4.1919113064), (6.3425166609, 3.7471309834))
            Line((6.3425166609, 3.7471309834), (6.0193648405, 3.3023506603))
            Line((6.0193648405, 3.3023506603), (7.4990672237, 1.7700739871))
        make_face()
        with BuildLine():
            Line((6.6656684812, -4.1919113064), (8.580203379, -3.2581302448))
            ThreePointArc((8.580203379, -3.2581302448), (7.9605506496, -2.5715604788), (7.4990672237, -1.7700739871))
            Line((7.4990672237, -1.7700739871), (6.0193648405, -3.3023506603))
            Line((6.0193648405, -3.3023506603), (6.3425166609, -3.7471309834))
            Line((6.3425166609, -3.7471309834), (6.6656684812, -4.1919113064))
        make_face()
        with BuildLine():
            ThreePointArc((7.2227540056, -0.9196693444), (7.125, 0), (7.2227540056, 0.9196693444))
            Line((7.2227540056, 0.9196693444), (5.125, 0.5497787144))
            Line((5.125, 0.5497787144), (5.125, 0))
            Line((5.125, 0), (5.125, -0.5497787144))
            Line((5.125, -0.5497787144), (7.2227540056, -0.9196693444))
        make_face()
    extrude(amount=F9_DEPTH)


with BuildPart() as f12:
    # F12 (new): a face of the model
    f12_faces = [f4.part.faces().sort_by_distance(p)[0] for p in [
        (0, 5, 24.5),
    ]]
    extrude(f12_faces, amount=F12_DEPTH)


solid = Compound([f1.part, f4.part, f5.part, f12.part])
